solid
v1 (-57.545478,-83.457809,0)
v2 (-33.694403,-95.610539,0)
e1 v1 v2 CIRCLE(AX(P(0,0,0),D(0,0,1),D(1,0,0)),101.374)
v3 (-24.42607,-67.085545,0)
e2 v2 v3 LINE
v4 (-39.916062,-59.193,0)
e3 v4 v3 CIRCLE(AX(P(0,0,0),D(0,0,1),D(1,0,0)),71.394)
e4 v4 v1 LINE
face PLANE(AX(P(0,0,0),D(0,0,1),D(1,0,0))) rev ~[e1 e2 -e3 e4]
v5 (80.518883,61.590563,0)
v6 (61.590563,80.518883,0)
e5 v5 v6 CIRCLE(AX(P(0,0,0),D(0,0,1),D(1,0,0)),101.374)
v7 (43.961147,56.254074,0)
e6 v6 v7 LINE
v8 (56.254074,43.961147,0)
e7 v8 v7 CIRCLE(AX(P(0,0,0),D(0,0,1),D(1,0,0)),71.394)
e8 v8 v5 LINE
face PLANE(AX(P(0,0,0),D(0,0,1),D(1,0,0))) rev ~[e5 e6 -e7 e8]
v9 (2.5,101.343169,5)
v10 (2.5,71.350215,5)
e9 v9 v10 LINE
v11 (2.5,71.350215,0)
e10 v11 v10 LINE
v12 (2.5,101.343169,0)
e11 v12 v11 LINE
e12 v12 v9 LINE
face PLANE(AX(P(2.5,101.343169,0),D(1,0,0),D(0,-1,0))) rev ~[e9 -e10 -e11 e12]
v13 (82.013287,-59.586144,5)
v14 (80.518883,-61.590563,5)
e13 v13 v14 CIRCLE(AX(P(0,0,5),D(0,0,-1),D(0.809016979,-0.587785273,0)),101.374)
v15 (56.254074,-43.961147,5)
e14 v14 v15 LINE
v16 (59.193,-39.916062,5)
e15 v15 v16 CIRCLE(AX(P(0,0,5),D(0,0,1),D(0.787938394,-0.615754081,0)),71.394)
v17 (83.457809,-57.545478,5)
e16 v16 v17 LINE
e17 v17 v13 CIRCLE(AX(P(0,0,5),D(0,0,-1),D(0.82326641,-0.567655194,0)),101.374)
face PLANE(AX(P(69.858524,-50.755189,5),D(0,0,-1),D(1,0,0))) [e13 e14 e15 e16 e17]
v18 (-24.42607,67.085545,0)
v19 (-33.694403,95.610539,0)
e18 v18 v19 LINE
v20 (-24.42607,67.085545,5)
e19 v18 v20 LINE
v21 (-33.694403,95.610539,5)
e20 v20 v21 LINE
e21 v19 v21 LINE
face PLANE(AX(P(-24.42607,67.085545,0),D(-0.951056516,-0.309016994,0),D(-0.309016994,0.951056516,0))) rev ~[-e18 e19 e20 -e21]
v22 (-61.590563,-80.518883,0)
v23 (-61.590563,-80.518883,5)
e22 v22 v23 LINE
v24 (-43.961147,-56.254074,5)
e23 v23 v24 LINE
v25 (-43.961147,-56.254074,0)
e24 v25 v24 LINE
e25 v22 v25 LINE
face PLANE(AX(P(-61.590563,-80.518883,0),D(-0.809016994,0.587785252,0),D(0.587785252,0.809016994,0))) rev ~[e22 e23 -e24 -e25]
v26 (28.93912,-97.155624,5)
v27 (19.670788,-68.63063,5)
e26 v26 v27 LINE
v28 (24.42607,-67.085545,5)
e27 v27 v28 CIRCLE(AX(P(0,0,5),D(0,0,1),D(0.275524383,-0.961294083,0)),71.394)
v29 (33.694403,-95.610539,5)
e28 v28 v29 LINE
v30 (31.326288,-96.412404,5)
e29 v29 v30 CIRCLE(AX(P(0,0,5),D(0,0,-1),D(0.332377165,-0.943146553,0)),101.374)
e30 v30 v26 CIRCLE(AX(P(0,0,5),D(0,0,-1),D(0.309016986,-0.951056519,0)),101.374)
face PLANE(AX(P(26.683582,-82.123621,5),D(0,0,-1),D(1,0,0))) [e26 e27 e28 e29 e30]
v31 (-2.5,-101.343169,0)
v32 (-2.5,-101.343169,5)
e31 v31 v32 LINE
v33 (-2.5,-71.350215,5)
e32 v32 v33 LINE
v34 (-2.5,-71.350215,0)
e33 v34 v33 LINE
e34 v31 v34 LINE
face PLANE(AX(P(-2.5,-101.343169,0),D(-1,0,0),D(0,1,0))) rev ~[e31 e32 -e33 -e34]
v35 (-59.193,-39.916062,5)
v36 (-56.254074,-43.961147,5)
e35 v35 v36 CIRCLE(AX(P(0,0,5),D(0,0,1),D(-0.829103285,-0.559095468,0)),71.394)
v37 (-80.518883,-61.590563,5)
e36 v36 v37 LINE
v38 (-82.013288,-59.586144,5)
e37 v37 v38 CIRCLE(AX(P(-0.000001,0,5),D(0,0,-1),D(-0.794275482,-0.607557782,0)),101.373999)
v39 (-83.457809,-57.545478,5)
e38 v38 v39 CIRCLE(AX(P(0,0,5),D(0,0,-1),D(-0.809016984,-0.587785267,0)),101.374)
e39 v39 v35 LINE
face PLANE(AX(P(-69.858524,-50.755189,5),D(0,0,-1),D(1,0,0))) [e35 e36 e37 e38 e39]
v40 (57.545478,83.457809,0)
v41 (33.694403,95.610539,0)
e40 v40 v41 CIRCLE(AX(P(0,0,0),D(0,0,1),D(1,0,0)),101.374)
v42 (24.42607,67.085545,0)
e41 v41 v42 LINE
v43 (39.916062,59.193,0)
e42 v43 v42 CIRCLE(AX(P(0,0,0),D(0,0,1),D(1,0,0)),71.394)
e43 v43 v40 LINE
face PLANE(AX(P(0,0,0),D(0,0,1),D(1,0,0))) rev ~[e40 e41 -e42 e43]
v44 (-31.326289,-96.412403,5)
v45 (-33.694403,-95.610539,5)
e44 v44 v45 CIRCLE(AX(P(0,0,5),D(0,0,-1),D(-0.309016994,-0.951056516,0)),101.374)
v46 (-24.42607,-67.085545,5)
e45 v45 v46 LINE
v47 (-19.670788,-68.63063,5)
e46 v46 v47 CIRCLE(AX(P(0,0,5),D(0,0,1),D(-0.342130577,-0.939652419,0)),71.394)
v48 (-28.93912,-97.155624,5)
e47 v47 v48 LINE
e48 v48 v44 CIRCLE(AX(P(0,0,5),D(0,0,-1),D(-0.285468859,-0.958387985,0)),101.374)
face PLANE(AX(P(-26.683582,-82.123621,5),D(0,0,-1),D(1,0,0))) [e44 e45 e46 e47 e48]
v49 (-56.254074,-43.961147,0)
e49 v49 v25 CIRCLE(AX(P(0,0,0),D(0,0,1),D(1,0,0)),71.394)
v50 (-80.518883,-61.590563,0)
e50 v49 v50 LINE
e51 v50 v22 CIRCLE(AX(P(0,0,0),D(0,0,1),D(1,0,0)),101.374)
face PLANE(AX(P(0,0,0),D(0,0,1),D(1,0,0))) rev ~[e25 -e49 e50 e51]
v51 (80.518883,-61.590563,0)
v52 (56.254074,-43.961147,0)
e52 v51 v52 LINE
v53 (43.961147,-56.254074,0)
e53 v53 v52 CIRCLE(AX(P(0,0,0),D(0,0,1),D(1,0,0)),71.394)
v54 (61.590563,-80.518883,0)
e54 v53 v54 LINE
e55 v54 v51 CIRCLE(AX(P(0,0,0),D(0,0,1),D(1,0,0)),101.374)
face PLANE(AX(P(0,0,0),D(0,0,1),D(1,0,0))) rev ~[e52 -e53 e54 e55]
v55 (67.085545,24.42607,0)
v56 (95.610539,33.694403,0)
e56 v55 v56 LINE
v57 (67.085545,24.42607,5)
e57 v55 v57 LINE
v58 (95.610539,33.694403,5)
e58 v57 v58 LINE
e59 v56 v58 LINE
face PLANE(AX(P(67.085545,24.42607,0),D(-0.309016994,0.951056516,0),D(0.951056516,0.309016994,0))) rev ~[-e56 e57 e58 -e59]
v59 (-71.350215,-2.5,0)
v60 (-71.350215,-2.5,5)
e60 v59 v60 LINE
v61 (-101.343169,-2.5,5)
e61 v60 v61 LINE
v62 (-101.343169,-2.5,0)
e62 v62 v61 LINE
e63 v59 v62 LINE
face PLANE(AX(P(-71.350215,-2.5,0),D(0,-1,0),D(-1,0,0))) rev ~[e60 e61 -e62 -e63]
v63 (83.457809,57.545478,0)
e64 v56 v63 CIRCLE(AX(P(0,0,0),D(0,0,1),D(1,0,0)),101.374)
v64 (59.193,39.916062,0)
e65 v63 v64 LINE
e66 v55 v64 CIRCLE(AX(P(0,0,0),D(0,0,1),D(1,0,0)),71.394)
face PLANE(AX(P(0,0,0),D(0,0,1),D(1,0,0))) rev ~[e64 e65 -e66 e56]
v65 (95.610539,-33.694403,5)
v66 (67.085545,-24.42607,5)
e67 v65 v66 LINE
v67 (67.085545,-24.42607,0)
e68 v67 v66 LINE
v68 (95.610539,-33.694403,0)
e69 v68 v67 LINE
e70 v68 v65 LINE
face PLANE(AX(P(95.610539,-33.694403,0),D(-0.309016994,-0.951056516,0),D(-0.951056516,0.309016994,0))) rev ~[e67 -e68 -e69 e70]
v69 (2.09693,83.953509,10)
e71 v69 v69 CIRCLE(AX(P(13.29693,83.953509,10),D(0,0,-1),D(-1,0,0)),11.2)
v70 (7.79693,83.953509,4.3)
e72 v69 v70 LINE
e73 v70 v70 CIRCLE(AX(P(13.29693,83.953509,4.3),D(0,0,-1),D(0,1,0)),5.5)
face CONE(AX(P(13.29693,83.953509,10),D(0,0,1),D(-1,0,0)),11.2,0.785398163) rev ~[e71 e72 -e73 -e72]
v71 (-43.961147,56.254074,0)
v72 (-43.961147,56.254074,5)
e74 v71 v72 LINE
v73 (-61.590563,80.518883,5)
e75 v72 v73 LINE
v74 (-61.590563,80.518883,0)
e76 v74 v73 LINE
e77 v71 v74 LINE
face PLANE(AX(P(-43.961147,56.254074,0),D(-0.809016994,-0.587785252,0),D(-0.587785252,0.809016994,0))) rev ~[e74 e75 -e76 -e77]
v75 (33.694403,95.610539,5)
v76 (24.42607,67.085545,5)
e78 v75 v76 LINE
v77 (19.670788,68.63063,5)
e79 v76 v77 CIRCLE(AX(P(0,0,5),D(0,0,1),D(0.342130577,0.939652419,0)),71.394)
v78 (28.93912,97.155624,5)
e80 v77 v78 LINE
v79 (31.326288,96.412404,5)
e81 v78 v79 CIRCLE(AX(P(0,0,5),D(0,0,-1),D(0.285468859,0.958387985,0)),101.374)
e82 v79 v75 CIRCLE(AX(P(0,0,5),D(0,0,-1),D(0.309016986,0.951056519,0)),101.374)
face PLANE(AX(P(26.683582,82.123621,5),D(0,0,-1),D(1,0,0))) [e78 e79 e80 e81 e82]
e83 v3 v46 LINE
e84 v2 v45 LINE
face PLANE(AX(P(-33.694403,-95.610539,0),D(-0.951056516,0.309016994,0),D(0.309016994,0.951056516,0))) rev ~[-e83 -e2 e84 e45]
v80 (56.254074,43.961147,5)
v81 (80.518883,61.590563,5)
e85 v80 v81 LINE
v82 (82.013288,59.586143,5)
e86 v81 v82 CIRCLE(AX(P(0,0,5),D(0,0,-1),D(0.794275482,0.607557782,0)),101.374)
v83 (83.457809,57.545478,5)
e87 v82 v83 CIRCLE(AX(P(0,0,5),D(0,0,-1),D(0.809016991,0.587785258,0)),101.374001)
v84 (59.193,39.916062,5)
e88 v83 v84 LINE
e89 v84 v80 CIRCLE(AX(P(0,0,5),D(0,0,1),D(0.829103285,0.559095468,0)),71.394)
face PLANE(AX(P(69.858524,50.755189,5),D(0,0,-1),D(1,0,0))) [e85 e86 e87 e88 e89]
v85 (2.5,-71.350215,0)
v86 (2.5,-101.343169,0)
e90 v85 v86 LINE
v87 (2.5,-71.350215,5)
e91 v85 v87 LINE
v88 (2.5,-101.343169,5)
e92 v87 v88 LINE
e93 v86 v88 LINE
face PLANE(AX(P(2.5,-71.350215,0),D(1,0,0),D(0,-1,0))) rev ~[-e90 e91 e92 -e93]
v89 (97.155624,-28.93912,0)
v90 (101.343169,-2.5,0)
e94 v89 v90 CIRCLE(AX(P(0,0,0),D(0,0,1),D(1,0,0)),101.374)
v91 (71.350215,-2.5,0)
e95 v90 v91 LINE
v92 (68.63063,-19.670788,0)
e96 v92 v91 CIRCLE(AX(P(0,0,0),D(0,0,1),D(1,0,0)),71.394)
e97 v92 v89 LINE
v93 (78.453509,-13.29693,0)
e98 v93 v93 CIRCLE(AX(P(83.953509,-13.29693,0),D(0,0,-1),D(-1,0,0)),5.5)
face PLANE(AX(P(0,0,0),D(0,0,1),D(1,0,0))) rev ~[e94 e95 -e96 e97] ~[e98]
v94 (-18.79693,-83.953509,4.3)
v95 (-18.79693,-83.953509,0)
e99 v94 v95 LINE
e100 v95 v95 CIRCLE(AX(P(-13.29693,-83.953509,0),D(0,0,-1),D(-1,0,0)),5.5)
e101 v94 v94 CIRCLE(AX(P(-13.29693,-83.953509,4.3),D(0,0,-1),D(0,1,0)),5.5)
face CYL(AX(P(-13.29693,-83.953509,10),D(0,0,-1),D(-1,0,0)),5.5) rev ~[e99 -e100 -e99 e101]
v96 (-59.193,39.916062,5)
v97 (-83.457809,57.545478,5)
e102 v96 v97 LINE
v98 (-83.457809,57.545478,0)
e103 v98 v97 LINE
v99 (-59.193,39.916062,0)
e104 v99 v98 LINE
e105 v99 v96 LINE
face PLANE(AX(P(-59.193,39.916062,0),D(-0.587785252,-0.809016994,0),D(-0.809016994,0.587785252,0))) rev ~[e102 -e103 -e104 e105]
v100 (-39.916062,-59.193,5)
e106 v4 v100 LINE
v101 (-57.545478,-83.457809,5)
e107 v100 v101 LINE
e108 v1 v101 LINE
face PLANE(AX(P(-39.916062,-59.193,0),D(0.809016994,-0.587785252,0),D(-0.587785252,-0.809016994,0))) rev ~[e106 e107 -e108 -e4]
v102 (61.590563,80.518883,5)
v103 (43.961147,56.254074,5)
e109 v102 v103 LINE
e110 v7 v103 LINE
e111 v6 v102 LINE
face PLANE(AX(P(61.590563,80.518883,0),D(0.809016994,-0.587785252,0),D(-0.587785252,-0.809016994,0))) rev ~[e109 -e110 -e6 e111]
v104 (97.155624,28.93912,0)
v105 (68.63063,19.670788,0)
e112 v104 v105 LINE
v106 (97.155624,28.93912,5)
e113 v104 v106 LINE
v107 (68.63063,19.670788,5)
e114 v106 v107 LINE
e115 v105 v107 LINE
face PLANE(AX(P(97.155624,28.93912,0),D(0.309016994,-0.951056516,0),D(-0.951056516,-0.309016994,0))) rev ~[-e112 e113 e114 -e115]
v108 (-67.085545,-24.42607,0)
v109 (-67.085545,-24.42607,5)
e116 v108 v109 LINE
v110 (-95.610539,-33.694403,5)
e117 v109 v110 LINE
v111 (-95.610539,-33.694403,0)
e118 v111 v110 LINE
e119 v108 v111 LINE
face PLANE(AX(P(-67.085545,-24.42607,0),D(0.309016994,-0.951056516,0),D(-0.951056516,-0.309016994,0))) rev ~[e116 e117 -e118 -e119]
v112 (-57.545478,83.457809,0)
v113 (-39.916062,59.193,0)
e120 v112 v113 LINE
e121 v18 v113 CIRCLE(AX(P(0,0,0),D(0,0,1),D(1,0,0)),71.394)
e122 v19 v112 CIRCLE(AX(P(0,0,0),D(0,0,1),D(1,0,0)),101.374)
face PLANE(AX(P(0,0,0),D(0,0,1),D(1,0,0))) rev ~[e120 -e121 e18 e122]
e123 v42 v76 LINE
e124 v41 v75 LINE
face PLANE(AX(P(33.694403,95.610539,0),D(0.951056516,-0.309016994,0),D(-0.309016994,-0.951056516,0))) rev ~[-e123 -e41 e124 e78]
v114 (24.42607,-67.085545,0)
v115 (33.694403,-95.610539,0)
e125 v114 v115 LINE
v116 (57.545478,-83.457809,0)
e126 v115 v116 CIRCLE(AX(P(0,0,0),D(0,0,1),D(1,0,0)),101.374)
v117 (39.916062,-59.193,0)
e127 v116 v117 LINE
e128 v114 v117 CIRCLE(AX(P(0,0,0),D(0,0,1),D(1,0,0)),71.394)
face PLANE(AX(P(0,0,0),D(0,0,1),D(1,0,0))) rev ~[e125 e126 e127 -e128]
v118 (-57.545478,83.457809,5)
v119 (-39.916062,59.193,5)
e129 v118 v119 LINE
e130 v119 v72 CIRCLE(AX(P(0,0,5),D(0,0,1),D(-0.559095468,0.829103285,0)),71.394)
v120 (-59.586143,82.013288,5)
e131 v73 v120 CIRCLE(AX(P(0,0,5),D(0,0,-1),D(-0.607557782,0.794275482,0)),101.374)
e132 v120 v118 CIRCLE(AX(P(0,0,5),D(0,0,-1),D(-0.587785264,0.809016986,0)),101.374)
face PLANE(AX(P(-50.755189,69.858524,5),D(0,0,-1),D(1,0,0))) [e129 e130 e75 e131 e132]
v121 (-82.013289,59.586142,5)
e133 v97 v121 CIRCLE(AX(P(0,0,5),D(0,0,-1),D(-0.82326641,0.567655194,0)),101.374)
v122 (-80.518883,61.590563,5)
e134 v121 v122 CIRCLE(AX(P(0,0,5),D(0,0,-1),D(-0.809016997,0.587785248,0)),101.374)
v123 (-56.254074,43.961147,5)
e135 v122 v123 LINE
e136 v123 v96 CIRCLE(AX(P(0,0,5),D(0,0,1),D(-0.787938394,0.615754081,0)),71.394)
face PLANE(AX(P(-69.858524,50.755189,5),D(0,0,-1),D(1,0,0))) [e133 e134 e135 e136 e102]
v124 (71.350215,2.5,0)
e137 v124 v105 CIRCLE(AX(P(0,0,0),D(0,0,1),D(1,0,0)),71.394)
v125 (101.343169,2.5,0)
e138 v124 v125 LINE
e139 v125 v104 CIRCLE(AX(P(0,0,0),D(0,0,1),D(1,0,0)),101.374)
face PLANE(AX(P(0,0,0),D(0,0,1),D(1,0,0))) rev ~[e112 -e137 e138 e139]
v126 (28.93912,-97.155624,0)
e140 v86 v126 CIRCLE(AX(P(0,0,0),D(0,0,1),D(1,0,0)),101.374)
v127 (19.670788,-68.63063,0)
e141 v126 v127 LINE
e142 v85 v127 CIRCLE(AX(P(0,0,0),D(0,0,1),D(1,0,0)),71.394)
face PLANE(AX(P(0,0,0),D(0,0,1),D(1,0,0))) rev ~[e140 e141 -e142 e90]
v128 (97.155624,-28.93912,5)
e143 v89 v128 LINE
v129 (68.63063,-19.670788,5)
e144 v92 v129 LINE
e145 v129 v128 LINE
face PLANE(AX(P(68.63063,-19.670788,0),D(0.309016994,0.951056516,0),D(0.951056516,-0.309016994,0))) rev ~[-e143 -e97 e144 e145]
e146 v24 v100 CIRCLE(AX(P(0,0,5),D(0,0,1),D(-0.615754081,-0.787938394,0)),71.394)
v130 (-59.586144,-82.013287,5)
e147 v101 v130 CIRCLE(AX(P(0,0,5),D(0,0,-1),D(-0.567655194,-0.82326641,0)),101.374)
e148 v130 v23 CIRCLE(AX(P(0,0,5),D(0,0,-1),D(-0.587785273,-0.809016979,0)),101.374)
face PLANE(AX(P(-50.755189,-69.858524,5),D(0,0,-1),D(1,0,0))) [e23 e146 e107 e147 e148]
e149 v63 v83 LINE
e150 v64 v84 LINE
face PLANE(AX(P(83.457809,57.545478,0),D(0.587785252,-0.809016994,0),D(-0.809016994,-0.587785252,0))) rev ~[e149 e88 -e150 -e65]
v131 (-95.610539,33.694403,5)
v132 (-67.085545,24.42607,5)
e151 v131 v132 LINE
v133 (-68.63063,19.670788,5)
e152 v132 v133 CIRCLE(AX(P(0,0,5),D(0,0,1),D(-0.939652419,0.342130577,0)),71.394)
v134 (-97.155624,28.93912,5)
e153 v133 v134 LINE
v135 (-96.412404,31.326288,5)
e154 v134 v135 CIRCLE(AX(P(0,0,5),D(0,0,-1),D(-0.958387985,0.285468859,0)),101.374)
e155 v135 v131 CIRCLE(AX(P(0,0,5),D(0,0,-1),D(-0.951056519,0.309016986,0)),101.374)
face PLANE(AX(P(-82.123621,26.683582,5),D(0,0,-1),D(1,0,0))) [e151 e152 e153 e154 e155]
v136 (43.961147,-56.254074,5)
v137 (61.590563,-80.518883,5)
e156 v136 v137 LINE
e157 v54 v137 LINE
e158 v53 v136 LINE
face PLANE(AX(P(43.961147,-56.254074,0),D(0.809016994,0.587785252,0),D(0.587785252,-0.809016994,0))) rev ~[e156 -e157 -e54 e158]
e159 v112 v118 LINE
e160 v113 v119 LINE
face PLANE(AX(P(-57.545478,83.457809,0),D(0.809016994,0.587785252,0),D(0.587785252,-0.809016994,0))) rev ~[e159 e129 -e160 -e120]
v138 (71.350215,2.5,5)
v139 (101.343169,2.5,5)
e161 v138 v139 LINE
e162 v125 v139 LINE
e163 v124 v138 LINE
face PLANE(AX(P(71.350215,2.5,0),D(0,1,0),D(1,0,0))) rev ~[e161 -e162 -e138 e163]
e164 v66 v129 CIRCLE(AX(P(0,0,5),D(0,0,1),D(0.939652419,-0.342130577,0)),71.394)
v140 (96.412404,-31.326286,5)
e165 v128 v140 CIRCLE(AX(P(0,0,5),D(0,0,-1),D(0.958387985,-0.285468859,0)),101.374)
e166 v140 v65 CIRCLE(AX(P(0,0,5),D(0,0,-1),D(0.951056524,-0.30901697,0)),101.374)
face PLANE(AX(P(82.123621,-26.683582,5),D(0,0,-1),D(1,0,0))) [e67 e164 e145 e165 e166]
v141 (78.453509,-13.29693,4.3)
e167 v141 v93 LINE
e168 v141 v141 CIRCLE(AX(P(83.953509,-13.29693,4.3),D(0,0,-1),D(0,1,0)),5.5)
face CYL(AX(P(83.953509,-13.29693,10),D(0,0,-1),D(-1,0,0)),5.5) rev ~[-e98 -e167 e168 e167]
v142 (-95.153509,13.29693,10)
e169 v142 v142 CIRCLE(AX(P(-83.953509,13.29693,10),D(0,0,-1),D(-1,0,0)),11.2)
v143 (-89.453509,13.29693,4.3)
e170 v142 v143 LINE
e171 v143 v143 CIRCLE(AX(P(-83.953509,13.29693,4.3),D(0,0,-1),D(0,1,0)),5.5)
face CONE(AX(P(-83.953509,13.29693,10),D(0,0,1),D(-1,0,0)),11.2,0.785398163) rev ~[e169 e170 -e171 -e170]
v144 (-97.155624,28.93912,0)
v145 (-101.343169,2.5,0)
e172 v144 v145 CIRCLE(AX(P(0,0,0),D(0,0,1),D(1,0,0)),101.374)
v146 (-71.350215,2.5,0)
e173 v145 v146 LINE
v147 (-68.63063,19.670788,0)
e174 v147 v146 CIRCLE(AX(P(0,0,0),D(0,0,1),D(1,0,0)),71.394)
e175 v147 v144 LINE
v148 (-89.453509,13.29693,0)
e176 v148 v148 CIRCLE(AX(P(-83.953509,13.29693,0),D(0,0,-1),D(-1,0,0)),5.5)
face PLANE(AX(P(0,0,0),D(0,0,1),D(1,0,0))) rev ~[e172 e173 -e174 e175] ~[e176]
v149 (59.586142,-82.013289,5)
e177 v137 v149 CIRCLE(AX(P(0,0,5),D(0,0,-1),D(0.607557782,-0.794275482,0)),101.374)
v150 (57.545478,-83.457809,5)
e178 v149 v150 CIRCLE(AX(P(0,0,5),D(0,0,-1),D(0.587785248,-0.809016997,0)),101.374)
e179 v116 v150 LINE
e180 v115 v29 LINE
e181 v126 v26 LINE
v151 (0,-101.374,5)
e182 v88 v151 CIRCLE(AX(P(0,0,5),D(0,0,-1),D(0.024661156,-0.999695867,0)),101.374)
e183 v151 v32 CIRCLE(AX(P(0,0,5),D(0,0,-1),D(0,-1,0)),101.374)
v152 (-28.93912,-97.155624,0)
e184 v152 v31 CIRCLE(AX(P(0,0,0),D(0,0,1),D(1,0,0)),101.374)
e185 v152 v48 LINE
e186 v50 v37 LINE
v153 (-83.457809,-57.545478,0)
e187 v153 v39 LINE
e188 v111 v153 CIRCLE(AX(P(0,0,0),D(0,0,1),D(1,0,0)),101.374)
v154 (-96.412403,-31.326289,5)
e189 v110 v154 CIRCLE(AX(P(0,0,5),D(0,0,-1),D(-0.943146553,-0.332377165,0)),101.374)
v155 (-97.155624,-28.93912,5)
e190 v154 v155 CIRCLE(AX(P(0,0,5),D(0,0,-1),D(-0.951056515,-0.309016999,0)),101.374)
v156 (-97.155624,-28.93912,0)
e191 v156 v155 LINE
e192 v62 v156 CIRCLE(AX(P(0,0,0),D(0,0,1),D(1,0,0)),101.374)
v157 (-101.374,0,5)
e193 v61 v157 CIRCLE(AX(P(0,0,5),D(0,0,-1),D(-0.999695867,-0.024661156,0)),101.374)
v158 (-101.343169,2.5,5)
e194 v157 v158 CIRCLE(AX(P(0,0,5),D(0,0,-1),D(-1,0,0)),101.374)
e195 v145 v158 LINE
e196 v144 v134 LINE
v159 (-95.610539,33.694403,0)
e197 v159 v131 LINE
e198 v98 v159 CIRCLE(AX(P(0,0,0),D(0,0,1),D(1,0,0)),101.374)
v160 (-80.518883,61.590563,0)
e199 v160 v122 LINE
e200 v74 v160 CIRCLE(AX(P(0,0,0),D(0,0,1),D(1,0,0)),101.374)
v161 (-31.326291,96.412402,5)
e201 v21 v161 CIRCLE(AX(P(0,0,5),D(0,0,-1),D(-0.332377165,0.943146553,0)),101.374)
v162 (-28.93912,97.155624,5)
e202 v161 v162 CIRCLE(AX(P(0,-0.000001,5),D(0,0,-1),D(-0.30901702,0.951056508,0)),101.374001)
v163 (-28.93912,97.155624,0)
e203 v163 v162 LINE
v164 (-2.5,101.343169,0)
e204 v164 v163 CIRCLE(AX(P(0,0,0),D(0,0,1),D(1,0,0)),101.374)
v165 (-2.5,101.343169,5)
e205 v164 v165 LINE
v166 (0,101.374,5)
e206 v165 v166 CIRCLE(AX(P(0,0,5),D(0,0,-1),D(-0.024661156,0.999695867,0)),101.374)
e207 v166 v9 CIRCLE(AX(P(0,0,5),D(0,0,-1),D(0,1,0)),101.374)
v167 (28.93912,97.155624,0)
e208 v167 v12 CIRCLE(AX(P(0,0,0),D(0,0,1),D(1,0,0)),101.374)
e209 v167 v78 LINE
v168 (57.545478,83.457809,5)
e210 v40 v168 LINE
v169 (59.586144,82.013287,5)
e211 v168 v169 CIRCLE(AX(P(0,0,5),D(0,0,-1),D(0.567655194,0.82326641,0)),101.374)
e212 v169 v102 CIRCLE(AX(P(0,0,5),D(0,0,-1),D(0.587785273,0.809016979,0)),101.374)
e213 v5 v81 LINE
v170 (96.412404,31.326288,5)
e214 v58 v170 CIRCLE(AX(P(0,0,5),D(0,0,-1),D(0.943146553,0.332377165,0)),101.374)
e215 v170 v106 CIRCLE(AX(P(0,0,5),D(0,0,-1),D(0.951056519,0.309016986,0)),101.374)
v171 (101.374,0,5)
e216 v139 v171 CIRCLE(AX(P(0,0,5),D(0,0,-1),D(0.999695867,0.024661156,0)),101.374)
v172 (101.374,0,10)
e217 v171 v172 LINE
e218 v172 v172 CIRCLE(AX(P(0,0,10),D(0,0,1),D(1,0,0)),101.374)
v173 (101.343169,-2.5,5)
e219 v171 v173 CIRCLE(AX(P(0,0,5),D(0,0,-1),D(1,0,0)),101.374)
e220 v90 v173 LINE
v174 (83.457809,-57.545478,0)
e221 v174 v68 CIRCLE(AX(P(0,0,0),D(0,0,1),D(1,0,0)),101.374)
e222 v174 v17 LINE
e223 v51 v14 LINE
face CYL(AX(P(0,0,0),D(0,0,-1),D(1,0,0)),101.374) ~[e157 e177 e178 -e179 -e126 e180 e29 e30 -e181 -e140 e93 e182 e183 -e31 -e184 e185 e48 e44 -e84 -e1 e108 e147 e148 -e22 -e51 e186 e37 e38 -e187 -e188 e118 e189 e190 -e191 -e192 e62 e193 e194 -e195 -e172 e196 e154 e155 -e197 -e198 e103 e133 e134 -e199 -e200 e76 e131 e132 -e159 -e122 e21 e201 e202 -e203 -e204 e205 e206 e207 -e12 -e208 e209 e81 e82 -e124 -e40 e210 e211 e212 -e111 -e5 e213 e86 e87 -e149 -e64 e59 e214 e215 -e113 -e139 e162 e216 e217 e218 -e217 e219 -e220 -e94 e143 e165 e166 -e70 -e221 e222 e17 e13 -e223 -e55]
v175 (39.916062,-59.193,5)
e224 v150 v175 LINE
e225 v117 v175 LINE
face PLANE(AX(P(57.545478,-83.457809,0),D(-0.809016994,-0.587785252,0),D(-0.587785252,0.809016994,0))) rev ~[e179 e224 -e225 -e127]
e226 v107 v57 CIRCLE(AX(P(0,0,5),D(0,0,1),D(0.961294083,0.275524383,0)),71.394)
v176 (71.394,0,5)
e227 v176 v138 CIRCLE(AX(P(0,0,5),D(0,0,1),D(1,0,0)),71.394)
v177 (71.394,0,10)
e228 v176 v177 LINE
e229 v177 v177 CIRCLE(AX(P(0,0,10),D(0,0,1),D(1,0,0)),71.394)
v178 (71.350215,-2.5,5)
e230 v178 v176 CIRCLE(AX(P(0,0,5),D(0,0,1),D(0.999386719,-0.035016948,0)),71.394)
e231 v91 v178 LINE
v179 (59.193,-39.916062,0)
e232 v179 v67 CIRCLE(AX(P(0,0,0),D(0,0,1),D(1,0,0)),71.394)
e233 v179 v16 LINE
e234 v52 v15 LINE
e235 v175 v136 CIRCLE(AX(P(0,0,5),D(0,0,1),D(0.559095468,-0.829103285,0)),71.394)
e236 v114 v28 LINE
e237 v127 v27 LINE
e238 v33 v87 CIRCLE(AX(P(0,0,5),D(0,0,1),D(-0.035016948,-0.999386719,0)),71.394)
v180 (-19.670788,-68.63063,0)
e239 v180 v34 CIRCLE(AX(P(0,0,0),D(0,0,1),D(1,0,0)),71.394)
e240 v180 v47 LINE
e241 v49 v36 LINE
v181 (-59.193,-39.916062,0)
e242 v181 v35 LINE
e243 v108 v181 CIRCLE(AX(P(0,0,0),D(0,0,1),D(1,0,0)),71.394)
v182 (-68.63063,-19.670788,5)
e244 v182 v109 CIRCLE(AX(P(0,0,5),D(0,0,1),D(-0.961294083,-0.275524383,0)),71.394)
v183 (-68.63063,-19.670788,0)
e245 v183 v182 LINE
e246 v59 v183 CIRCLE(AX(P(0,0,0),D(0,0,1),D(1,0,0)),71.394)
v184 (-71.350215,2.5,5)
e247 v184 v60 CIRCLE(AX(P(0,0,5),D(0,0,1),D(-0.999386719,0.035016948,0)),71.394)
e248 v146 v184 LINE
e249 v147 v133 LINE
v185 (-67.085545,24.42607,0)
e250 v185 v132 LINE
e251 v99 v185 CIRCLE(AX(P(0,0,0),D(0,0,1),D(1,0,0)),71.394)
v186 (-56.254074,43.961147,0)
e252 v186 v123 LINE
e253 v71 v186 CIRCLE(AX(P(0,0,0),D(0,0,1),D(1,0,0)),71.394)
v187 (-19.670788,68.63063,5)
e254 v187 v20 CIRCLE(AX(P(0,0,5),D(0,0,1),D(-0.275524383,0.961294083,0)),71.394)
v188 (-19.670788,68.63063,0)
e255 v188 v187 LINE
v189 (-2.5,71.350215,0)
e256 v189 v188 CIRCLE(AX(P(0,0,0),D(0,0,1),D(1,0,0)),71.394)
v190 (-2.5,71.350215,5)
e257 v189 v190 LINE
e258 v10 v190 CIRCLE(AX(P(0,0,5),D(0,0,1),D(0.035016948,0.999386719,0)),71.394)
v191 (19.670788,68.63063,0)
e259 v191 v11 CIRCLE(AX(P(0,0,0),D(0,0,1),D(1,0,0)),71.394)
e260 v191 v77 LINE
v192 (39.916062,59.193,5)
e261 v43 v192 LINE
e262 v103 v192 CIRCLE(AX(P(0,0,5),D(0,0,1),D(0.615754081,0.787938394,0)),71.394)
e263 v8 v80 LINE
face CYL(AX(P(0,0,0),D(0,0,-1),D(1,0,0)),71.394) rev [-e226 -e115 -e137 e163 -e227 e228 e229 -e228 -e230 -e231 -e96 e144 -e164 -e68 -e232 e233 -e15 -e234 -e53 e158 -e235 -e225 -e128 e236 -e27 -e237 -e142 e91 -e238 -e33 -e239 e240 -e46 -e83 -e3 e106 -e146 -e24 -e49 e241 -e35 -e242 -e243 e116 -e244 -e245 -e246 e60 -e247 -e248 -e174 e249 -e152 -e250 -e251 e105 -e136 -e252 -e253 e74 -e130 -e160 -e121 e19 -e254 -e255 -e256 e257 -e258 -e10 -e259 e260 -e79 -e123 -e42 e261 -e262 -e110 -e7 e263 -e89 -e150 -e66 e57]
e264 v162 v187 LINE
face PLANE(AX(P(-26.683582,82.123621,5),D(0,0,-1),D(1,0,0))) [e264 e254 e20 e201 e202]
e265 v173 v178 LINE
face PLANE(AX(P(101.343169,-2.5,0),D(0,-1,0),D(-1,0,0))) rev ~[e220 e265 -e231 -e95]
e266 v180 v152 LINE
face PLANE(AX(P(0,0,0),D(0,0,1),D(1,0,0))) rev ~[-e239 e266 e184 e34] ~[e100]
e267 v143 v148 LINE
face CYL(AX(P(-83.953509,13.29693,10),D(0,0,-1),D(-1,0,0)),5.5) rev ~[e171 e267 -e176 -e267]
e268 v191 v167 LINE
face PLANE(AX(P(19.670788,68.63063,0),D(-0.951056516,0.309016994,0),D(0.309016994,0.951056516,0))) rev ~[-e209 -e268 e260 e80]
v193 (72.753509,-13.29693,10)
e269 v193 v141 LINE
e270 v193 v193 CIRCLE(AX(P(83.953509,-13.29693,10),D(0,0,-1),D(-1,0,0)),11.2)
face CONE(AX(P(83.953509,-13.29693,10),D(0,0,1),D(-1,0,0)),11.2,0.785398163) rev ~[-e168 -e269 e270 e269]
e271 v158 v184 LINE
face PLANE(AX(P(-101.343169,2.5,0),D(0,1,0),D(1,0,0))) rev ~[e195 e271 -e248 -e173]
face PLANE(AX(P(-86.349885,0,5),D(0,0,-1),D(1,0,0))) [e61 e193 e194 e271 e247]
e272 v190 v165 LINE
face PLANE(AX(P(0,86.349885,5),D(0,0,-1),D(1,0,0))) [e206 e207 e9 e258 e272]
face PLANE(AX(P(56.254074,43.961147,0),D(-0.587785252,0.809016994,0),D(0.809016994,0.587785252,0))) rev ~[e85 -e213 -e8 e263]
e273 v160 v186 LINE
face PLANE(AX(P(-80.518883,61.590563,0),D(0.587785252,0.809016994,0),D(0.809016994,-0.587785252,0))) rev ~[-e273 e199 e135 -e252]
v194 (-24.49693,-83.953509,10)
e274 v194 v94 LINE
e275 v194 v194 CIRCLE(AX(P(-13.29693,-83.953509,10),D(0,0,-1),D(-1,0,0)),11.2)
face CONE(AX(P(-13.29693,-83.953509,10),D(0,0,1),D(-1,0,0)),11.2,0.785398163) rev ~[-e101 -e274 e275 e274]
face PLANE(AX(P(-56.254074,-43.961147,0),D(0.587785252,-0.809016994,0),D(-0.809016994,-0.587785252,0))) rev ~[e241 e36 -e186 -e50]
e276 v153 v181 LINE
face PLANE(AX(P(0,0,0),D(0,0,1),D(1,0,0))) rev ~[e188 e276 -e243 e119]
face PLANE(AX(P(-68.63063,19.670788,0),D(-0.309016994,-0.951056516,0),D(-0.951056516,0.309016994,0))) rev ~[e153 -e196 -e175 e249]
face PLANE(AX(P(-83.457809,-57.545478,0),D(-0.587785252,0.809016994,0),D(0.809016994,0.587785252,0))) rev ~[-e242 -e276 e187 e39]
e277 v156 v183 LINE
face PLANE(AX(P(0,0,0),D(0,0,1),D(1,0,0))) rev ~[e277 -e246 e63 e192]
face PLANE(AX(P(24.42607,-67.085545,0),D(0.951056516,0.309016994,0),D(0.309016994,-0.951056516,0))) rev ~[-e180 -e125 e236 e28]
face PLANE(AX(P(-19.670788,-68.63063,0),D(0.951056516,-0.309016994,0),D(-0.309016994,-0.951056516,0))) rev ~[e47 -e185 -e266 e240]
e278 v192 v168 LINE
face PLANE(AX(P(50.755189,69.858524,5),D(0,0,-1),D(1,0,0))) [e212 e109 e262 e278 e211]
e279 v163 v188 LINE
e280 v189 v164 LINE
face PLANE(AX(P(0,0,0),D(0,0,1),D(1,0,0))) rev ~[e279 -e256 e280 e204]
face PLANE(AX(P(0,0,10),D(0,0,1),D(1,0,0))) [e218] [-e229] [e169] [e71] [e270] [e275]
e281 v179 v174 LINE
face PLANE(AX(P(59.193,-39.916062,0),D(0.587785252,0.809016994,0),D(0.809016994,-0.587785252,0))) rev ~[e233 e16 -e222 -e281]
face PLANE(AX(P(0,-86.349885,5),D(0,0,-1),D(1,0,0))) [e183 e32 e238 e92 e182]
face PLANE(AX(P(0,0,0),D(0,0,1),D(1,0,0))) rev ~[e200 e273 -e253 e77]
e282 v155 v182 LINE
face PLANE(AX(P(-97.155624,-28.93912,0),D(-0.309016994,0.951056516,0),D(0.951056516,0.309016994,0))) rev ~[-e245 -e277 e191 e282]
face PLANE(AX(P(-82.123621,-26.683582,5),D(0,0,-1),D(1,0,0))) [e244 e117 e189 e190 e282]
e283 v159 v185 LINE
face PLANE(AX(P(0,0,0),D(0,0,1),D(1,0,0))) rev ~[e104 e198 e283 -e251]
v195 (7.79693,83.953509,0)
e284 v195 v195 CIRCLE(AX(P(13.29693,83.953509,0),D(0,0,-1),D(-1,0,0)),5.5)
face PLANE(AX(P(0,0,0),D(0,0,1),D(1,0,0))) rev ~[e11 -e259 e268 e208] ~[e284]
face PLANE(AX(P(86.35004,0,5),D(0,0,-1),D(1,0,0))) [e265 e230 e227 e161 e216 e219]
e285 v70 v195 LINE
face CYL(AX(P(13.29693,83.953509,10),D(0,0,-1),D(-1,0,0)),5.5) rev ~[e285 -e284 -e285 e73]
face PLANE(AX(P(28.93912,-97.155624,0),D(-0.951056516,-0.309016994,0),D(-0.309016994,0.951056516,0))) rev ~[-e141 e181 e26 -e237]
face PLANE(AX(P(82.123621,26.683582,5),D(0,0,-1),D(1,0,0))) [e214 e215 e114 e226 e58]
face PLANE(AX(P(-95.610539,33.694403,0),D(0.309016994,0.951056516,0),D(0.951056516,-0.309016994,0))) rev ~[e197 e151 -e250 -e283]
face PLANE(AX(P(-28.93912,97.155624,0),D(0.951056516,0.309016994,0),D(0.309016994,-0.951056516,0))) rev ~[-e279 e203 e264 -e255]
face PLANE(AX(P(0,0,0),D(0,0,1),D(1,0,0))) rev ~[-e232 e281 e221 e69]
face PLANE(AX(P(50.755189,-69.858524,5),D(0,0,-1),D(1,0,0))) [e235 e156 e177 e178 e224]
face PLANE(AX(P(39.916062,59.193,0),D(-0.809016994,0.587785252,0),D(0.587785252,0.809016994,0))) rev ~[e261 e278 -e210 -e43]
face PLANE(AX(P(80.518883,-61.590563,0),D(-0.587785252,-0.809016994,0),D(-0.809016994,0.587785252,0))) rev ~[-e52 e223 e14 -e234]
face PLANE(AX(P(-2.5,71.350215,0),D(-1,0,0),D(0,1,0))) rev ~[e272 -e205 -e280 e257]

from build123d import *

# Parameters (mm, degrees)
F0_R           = 101.374
F0_R_2         = 71.394
F1_DEPTH       = 10
F3_DEPTH       = 5
F5_D           = 11
F5_CSINK_D     = 22.4
F5_CSINK_ANGLE = 90


with BuildPart() as f1:
    # F0 (on Top) → F1 (new body)
    with BuildSketch(Plane.XY):
        Circle(F0_R)
        Circle(F0_R_2, mode=Mode.SUBTRACT)
    extrude(amount=F1_DEPTH)

    # F2 (on face) → F3 (cut)
    with BuildSketch(Plane(origin=(0, 0, 0), x_dir=(1, 0, 0), z_dir=(0, 0, -1))):
        with BuildLine():
            ThreePointArc((2.5, 101.343168867), (1.2500950523, 101.3662919237), (0, 101.374))
            ThreePointArc((0, 101.374), (-1.2500950523, 101.3662919237), (-2.5, 101.343168867))
            Line((-2.5, 101.343168867), (-2.5, 71.3502153886))
            ThreePointArc((-2.5, 71.3502153886), (0, 71.394), (2.5, 71.3502153886))
            Line((2.5, 71.3502153886), (2.5, 101.343168867))
        make_face()
        with BuildLine():
            ThreePointArc((31.3262879268, 96.4124035626), (30.1349953836, 96.791373217), (28.939120153, 97.1556236189))
            Line((28.939120153, 97.1556236189), (19.6707878167, 68.6306297703))
            ThreePointArc((19.6707878167, 68.6306297703), (22.0619592964, 67.8997289244), (24.4260703981, 67.0855447985))
            Line((24.4260703981, 67.0855447985), (33.6944027344, 95.610538647))
            ThreePointArc((33.6944027344, 95.610538647), (32.5128174779, 96.0187719961), (31.3262879268, 96.4124035626))
        make_face()
        with BuildLine():
            Line((57.5454775947, 83.4578090079), (39.9160618674, 59.1929999324))
            ThreePointArc((39.9160618674, 59.1929999324), (41.9643403022, 57.7589592964), (43.9611468392, 56.254073671))
            Line((43.9611468392, 56.254073671), (61.5905625665, 80.5188827465))
            ThreePointArc((61.5905625665, 80.5188827465), (60.592959405, 81.2722655433), (59.5861417437, 82.0132890945))
            ThreePointArc((59.5861417437, 82.0132890945), (58.5702631175, 82.7418404095), (57.5454775947, 83.4578090079))
        make_face()
        with BuildLine():
            Line((80.5188827465, 61.5905625665), (56.254073671, 43.9611468392))
            ThreePointArc((56.254073671, 43.9611468392), (57.7589592964, 41.9643403022), (59.1929999324, 39.9160618674))
            Line((59.1929999324, 39.9160618674), (83.4578090079, 57.5454775947))
            ThreePointArc((83.4578090079, 57.5454775947), (82.7418395043, 58.5702643962), (82.0132872528, 59.5861442786))
            ThreePointArc((82.0132872528, 59.5861442786), (81.2722646069, 60.592960661), (80.5188827465, 61.5905625665))
        make_face()
        with BuildLine():
            Line((95.610538647, 33.6944027344), (67.0855447985, 24.4260703981))
            ThreePointArc((67.0855447985, 24.4260703981), (67.8997289244, 22.0619592964), (68.6306297703, 19.6707878167))
            Line((68.6306297703, 19.6707878167), (97.1556236189, 28.939120153))
            ThreePointArc((97.1556236189, 28.939120153), (96.7913734751, 30.1349945547), (96.4124040992, 31.3262862756))
            ThreePointArc((96.4124040992, 31.3262862756), (96.0187722746, 32.5128166557), (95.610538647, 33.6944027344))
        make_face()
        with BuildLine():
            Line((101.343168867, 2.5), (71.3502153886, 2.5))
            ThreePointArc((71.3502153886, 2.5), (71.3830530079, 1.2501916945), (71.394, 0))
            ThreePointArc((71.394, 0), (71.3830530079, -1.2501916945), (71.3502153886, -2.5))
            Line((71.3502153886, -2.5), (101.343168867, -2.5))
            ThreePointArc((101.343168867, -2.5), (101.3662919237, -1.2500950523), (101.374, 0))
            ThreePointArc((101.374, 0), (101.3662919237, 1.2500950523), (101.343168867, 2.5))
        make_face()
        with BuildLine():
            Line((97.1556236189, -28.939120153), (68.6306297703, -19.6707878167))
            ThreePointArc((68.6306297703, -19.6707878167), (67.8997289244, -22.0619592964), (67.0855447985, -24.4260703981))
            Line((67.0855447985, -24.4260703981), (95.610538647, -33.6944027344))
            ThreePointArc((95.610538647, -33.6944027344), (96.0187719961, -32.5128174779), (96.4124035626, -31.3262879268))
            ThreePointArc((96.4124035626, -31.3262879268), (96.791373217, -30.1349953836), (97.1556236189, -28.939120153))
        make_face()
        with BuildLine():
            Line((83.4578090079, -57.5454775947), (59.1929999324, -39.9160618674))
            ThreePointArc((59.1929999324, -39.9160618674), (57.7589592964, -41.9643403022), (56.254073671, -43.9611468392))
            Line((56.254073671, -43.9611468392), (80.5188827465, -61.5905625665))
            ThreePointArc((80.5188827465, -61.5905625665), (81.2722651856, -60.5929598848), (82.013288391, -59.586142712))
            ThreePointArc((82.013288391, -59.586142712), (82.7418400637, -58.5702636059), (83.4578090079, -57.5454775947))
        make_face()
        with BuildLine():
            Line((61.5905625665, -80.5188827465), (43.9611468392, -56.254073671))
            ThreePointArc((43.9611468392, -56.254073671), (41.9643403022, -57.7589592964), (39.9160618674, -59.1929999324))
            Line((39.9160618674, -59.1929999324), (57.5454775947, -83.4578090079))
            ThreePointArc((57.5454775947, -83.4578090079), (58.5702643962, -82.7418395043), (59.5861442786, -82.0132872528))
            ThreePointArc((59.5861442786, -82.0132872528), (60.592960661, -81.2722646069), (61.5905625665, -80.5188827465))
        make_face()
        with BuildLine():
            Line((33.6944027344, -95.610538647), (24.4260703981, -67.0855447985))
            ThreePointArc((24.4260703981, -67.0855447985), (22.0619592964, -67.8997289244), (19.6707878167, -68.6306297703))
            Line((19.6707878167, -68.6306297703), (28.939120153, -97.1556236189))
            ThreePointArc((28.939120153, -97.1556236189), (30.1349953836, -96.791373217), (31.3262879268, -96.4124035626))
            ThreePointArc((31.3262879268, -96.4124035626), (32.5128174779, -96.0187719961), (33.6944027344, -95.610538647))
        make_face()
        with BuildLine():
            ThreePointArc((2.5, -71.3502153886), (0, -71.394), (-2.5, -71.3502153886))
            Line((-2.5, -71.3502153886), (-2.5, -101.343168867))
            ThreePointArc((-2.5, -101.343168867), (-1.2500950523, -101.3662919237), (0, -101.374))
            ThreePointArc((0, -101.374), (1.2500950523, -101.3662919237), (2.5, -101.343168867))
            Line((2.5, -101.343168867), (2.5, -71.3502153886))
        make_face()
        with BuildLine():
            ThreePointArc((-19.6707878167, -68.6306297703), (-22.0619592964, -67.8997289244), (-24.4260703981, -67.0855447985))
            Line((-24.4260703981, -67.0855447985), (-33.6944027344, -95.610538647))
            ThreePointArc((-33.6944027344, -95.610538647), (-32.5128191824, -96.018771419), (-31.3262913498, -96.4124024505))
            ThreePointArc((-31.3262913498, -96.4124024505), (-30.1349971018, -96.791372682), (-28.939120153, -97.1556236189))
            Line((-28.939120153, -97.1556236189), (-19.6707878167, -68.6306297703))
        make_face()
        with BuildLine():
            ThreePointArc((-39.9160618674, -59.1929999324), (-41.9643403022, -57.7589592964), (-43.9611468392, -56.254073671))
            Line((-43.9611468392, -56.254073671), (-61.5905625665, -80.5188827465))
            ThreePointArc((-61.5905625665, -80.5188827465), (-60.5929601813, -81.2722649646), (-59.5861433104, -82.0132879563))
            ThreePointArc((-59.5861433104, -82.0132879563), (-58.5702639078, -82.7418398501), (-57.5454775947, -83.4578090079))
            Line((-57.5454775947, -83.4578090079), (-39.9160618674, -59.1929999324))
        make_face()
        with BuildLine():
            ThreePointArc((-56.254073671, -43.9611468392), (-57.7589592964, -41.9643403022), (-59.1929999324, -39.9160618674))
            Line((-59.1929999324, -39.9160618674), (-83.4578090079, -57.5454775947))
            ThreePointArc((-83.4578090079, -57.5454775947), (-82.7418404095, -58.5702631175), (-82.0132890945, -59.5861417437))
            ThreePointArc((-82.0132890945, -59.5861417437), (-81.2722655433, -60.592959405), (-80.5188827465, -61.5905625665))
            Line((-80.5188827465, -61.5905625665), (-56.254073671, -43.9611468392))
        make_face()
        with BuildLine():
            ThreePointArc((-67.0855447985, -24.4260703981), (-67.8997289244, -22.0619592964), (-68.6306297703, -19.6707878167))
            Line((-68.6306297703, -19.6707878167), (-97.1556236189, -28.939120153))
            ThreePointArc((-97.1556236189, -28.939120153), (-96.791373217, -30.1349953836), (-96.4124035626, -31.3262879268))
            ThreePointArc((-96.4124035626, -31.3262879268), (-96.0187719961, -32.5128174779), (-95.610538647, -33.6944027344))
            Line((-95.610538647, -33.6944027344), (-67.0855447985, -24.4260703981))
        make_face()
        with BuildLine():
            ThreePointArc((-71.3502153886, -2.5), (-71.394, 0), (-71.3502153886, 2.5))
            Line((-71.3502153886, 2.5), (-101.343168867, 2.5))
            ThreePointArc((-101.343168867, 2.5), (-101.3662919237, 1.2500950523), (-101.374, 0))
            ThreePointArc((-101.374, 0), (-101.3662919237, -1.2500950523), (-101.343168867, -2.5))
            Line((-101.343168867, -2.5), (-71.3502153886, -2.5))
        make_face()
        with BuildLine():
            ThreePointArc((-68.6306297703, 19.6707878167), (-67.8997289244, 22.0619592964), (-67.0855447985, 24.4260703981))
            Line((-67.0855447985, 24.4260703981), (-95.610538647, 33.6944027344))
            ThreePointArc((-95.610538647, 33.6944027344), (-96.0187717709, 32.5128181431), (-96.4124031286, 31.3262892627))
            ThreePointArc((-96.4124031286, 31.3262892627), (-96.7913730082, 30.1349960542), (-97.1556236189, 28.939120153))
            Line((-97.1556236189, 28.939120153), (-68.6306297703, 19.6707878167))
        make_face()
        with BuildLine():
            ThreePointArc((-59.1929999324, 39.9160618674), (-57.7589592964, 41.9643403022), (-56.254073671, 43.9611468392))
            Line((-56.254073671, 43.9611468392), (-80.5188827465, 61.5905625665))
            ThreePointArc((-80.5188827465, 61.5905625665), (-81.272264828, 60.5929603645), (-82.0132876875, 59.5861436802))
            ThreePointArc((-82.0132876875, 59.5861436802), (-82.741839718, 58.5702640943), (-83.4578090079, 57.5454775947))
            Line((-83.4578090079, 57.5454775947), (-59.1929999324, 39.9160618674))
        make_face()
        with BuildLine():
            ThreePointArc((-43.9611468392, 56.254073671), (-41.9643403022, 57.7589592964), (-39.9160618674, 59.1929999324))
            Line((-39.9160618674, 59.1929999324), (-57.5454775947, 83.4578090079))
            ThreePointArc((-57.5454775947, 83.4578090079), (-58.5702643962, 82.7418395043), (-59.5861442786, 82.0132872528))
            ThreePointArc((-59.5861442786, 82.0132872528), (-60.592960661, 81.2722646069), (-61.5905625665, 80.5188827465))
            Line((-61.5905625665, 80.5188827465), (-43.9611468392, 56.254073671))
        make_face()
        with BuildLine():
            Line((-19.6707878167, 68.6306297703), (-28.939120153, 97.1556236189))
            ThreePointArc((-28.939120153, 97.1556236189), (-30.134995798, 96.791373088), (-31.3262887525, 96.4124032944))
            ThreePointArc((-31.3262887525, 96.4124032944), (-32.5128178891, 96.0187718569), (-33.6944027344, 95.610538647))
            Line((-33.6944027344, 95.610538647), (-24.4260703981, 67.0855447985))
            ThreePointArc((-24.4260703981, 67.0855447985), (-22.0619592964, 67.8997289244), (-19.6707878167, 68.6306297703))
        make_face()
    extrude(amount=-F3_DEPTH, mode=Mode.SUBTRACT)

    # F5 (through all)
    with Locations(Plane.XY.offset(10)):
        with Locations((13.2969295284, 83.9535089506), (83.9535089506, -13.2969295284), (-83.9535089506, 13.2969295284), (-13.2969295284, -83.9535089506)):
            CounterSinkHole(F5_D / 2, F5_CSINK_D / 2, counter_sink_angle=F5_CSINK_ANGLE)


solid = f1.part
